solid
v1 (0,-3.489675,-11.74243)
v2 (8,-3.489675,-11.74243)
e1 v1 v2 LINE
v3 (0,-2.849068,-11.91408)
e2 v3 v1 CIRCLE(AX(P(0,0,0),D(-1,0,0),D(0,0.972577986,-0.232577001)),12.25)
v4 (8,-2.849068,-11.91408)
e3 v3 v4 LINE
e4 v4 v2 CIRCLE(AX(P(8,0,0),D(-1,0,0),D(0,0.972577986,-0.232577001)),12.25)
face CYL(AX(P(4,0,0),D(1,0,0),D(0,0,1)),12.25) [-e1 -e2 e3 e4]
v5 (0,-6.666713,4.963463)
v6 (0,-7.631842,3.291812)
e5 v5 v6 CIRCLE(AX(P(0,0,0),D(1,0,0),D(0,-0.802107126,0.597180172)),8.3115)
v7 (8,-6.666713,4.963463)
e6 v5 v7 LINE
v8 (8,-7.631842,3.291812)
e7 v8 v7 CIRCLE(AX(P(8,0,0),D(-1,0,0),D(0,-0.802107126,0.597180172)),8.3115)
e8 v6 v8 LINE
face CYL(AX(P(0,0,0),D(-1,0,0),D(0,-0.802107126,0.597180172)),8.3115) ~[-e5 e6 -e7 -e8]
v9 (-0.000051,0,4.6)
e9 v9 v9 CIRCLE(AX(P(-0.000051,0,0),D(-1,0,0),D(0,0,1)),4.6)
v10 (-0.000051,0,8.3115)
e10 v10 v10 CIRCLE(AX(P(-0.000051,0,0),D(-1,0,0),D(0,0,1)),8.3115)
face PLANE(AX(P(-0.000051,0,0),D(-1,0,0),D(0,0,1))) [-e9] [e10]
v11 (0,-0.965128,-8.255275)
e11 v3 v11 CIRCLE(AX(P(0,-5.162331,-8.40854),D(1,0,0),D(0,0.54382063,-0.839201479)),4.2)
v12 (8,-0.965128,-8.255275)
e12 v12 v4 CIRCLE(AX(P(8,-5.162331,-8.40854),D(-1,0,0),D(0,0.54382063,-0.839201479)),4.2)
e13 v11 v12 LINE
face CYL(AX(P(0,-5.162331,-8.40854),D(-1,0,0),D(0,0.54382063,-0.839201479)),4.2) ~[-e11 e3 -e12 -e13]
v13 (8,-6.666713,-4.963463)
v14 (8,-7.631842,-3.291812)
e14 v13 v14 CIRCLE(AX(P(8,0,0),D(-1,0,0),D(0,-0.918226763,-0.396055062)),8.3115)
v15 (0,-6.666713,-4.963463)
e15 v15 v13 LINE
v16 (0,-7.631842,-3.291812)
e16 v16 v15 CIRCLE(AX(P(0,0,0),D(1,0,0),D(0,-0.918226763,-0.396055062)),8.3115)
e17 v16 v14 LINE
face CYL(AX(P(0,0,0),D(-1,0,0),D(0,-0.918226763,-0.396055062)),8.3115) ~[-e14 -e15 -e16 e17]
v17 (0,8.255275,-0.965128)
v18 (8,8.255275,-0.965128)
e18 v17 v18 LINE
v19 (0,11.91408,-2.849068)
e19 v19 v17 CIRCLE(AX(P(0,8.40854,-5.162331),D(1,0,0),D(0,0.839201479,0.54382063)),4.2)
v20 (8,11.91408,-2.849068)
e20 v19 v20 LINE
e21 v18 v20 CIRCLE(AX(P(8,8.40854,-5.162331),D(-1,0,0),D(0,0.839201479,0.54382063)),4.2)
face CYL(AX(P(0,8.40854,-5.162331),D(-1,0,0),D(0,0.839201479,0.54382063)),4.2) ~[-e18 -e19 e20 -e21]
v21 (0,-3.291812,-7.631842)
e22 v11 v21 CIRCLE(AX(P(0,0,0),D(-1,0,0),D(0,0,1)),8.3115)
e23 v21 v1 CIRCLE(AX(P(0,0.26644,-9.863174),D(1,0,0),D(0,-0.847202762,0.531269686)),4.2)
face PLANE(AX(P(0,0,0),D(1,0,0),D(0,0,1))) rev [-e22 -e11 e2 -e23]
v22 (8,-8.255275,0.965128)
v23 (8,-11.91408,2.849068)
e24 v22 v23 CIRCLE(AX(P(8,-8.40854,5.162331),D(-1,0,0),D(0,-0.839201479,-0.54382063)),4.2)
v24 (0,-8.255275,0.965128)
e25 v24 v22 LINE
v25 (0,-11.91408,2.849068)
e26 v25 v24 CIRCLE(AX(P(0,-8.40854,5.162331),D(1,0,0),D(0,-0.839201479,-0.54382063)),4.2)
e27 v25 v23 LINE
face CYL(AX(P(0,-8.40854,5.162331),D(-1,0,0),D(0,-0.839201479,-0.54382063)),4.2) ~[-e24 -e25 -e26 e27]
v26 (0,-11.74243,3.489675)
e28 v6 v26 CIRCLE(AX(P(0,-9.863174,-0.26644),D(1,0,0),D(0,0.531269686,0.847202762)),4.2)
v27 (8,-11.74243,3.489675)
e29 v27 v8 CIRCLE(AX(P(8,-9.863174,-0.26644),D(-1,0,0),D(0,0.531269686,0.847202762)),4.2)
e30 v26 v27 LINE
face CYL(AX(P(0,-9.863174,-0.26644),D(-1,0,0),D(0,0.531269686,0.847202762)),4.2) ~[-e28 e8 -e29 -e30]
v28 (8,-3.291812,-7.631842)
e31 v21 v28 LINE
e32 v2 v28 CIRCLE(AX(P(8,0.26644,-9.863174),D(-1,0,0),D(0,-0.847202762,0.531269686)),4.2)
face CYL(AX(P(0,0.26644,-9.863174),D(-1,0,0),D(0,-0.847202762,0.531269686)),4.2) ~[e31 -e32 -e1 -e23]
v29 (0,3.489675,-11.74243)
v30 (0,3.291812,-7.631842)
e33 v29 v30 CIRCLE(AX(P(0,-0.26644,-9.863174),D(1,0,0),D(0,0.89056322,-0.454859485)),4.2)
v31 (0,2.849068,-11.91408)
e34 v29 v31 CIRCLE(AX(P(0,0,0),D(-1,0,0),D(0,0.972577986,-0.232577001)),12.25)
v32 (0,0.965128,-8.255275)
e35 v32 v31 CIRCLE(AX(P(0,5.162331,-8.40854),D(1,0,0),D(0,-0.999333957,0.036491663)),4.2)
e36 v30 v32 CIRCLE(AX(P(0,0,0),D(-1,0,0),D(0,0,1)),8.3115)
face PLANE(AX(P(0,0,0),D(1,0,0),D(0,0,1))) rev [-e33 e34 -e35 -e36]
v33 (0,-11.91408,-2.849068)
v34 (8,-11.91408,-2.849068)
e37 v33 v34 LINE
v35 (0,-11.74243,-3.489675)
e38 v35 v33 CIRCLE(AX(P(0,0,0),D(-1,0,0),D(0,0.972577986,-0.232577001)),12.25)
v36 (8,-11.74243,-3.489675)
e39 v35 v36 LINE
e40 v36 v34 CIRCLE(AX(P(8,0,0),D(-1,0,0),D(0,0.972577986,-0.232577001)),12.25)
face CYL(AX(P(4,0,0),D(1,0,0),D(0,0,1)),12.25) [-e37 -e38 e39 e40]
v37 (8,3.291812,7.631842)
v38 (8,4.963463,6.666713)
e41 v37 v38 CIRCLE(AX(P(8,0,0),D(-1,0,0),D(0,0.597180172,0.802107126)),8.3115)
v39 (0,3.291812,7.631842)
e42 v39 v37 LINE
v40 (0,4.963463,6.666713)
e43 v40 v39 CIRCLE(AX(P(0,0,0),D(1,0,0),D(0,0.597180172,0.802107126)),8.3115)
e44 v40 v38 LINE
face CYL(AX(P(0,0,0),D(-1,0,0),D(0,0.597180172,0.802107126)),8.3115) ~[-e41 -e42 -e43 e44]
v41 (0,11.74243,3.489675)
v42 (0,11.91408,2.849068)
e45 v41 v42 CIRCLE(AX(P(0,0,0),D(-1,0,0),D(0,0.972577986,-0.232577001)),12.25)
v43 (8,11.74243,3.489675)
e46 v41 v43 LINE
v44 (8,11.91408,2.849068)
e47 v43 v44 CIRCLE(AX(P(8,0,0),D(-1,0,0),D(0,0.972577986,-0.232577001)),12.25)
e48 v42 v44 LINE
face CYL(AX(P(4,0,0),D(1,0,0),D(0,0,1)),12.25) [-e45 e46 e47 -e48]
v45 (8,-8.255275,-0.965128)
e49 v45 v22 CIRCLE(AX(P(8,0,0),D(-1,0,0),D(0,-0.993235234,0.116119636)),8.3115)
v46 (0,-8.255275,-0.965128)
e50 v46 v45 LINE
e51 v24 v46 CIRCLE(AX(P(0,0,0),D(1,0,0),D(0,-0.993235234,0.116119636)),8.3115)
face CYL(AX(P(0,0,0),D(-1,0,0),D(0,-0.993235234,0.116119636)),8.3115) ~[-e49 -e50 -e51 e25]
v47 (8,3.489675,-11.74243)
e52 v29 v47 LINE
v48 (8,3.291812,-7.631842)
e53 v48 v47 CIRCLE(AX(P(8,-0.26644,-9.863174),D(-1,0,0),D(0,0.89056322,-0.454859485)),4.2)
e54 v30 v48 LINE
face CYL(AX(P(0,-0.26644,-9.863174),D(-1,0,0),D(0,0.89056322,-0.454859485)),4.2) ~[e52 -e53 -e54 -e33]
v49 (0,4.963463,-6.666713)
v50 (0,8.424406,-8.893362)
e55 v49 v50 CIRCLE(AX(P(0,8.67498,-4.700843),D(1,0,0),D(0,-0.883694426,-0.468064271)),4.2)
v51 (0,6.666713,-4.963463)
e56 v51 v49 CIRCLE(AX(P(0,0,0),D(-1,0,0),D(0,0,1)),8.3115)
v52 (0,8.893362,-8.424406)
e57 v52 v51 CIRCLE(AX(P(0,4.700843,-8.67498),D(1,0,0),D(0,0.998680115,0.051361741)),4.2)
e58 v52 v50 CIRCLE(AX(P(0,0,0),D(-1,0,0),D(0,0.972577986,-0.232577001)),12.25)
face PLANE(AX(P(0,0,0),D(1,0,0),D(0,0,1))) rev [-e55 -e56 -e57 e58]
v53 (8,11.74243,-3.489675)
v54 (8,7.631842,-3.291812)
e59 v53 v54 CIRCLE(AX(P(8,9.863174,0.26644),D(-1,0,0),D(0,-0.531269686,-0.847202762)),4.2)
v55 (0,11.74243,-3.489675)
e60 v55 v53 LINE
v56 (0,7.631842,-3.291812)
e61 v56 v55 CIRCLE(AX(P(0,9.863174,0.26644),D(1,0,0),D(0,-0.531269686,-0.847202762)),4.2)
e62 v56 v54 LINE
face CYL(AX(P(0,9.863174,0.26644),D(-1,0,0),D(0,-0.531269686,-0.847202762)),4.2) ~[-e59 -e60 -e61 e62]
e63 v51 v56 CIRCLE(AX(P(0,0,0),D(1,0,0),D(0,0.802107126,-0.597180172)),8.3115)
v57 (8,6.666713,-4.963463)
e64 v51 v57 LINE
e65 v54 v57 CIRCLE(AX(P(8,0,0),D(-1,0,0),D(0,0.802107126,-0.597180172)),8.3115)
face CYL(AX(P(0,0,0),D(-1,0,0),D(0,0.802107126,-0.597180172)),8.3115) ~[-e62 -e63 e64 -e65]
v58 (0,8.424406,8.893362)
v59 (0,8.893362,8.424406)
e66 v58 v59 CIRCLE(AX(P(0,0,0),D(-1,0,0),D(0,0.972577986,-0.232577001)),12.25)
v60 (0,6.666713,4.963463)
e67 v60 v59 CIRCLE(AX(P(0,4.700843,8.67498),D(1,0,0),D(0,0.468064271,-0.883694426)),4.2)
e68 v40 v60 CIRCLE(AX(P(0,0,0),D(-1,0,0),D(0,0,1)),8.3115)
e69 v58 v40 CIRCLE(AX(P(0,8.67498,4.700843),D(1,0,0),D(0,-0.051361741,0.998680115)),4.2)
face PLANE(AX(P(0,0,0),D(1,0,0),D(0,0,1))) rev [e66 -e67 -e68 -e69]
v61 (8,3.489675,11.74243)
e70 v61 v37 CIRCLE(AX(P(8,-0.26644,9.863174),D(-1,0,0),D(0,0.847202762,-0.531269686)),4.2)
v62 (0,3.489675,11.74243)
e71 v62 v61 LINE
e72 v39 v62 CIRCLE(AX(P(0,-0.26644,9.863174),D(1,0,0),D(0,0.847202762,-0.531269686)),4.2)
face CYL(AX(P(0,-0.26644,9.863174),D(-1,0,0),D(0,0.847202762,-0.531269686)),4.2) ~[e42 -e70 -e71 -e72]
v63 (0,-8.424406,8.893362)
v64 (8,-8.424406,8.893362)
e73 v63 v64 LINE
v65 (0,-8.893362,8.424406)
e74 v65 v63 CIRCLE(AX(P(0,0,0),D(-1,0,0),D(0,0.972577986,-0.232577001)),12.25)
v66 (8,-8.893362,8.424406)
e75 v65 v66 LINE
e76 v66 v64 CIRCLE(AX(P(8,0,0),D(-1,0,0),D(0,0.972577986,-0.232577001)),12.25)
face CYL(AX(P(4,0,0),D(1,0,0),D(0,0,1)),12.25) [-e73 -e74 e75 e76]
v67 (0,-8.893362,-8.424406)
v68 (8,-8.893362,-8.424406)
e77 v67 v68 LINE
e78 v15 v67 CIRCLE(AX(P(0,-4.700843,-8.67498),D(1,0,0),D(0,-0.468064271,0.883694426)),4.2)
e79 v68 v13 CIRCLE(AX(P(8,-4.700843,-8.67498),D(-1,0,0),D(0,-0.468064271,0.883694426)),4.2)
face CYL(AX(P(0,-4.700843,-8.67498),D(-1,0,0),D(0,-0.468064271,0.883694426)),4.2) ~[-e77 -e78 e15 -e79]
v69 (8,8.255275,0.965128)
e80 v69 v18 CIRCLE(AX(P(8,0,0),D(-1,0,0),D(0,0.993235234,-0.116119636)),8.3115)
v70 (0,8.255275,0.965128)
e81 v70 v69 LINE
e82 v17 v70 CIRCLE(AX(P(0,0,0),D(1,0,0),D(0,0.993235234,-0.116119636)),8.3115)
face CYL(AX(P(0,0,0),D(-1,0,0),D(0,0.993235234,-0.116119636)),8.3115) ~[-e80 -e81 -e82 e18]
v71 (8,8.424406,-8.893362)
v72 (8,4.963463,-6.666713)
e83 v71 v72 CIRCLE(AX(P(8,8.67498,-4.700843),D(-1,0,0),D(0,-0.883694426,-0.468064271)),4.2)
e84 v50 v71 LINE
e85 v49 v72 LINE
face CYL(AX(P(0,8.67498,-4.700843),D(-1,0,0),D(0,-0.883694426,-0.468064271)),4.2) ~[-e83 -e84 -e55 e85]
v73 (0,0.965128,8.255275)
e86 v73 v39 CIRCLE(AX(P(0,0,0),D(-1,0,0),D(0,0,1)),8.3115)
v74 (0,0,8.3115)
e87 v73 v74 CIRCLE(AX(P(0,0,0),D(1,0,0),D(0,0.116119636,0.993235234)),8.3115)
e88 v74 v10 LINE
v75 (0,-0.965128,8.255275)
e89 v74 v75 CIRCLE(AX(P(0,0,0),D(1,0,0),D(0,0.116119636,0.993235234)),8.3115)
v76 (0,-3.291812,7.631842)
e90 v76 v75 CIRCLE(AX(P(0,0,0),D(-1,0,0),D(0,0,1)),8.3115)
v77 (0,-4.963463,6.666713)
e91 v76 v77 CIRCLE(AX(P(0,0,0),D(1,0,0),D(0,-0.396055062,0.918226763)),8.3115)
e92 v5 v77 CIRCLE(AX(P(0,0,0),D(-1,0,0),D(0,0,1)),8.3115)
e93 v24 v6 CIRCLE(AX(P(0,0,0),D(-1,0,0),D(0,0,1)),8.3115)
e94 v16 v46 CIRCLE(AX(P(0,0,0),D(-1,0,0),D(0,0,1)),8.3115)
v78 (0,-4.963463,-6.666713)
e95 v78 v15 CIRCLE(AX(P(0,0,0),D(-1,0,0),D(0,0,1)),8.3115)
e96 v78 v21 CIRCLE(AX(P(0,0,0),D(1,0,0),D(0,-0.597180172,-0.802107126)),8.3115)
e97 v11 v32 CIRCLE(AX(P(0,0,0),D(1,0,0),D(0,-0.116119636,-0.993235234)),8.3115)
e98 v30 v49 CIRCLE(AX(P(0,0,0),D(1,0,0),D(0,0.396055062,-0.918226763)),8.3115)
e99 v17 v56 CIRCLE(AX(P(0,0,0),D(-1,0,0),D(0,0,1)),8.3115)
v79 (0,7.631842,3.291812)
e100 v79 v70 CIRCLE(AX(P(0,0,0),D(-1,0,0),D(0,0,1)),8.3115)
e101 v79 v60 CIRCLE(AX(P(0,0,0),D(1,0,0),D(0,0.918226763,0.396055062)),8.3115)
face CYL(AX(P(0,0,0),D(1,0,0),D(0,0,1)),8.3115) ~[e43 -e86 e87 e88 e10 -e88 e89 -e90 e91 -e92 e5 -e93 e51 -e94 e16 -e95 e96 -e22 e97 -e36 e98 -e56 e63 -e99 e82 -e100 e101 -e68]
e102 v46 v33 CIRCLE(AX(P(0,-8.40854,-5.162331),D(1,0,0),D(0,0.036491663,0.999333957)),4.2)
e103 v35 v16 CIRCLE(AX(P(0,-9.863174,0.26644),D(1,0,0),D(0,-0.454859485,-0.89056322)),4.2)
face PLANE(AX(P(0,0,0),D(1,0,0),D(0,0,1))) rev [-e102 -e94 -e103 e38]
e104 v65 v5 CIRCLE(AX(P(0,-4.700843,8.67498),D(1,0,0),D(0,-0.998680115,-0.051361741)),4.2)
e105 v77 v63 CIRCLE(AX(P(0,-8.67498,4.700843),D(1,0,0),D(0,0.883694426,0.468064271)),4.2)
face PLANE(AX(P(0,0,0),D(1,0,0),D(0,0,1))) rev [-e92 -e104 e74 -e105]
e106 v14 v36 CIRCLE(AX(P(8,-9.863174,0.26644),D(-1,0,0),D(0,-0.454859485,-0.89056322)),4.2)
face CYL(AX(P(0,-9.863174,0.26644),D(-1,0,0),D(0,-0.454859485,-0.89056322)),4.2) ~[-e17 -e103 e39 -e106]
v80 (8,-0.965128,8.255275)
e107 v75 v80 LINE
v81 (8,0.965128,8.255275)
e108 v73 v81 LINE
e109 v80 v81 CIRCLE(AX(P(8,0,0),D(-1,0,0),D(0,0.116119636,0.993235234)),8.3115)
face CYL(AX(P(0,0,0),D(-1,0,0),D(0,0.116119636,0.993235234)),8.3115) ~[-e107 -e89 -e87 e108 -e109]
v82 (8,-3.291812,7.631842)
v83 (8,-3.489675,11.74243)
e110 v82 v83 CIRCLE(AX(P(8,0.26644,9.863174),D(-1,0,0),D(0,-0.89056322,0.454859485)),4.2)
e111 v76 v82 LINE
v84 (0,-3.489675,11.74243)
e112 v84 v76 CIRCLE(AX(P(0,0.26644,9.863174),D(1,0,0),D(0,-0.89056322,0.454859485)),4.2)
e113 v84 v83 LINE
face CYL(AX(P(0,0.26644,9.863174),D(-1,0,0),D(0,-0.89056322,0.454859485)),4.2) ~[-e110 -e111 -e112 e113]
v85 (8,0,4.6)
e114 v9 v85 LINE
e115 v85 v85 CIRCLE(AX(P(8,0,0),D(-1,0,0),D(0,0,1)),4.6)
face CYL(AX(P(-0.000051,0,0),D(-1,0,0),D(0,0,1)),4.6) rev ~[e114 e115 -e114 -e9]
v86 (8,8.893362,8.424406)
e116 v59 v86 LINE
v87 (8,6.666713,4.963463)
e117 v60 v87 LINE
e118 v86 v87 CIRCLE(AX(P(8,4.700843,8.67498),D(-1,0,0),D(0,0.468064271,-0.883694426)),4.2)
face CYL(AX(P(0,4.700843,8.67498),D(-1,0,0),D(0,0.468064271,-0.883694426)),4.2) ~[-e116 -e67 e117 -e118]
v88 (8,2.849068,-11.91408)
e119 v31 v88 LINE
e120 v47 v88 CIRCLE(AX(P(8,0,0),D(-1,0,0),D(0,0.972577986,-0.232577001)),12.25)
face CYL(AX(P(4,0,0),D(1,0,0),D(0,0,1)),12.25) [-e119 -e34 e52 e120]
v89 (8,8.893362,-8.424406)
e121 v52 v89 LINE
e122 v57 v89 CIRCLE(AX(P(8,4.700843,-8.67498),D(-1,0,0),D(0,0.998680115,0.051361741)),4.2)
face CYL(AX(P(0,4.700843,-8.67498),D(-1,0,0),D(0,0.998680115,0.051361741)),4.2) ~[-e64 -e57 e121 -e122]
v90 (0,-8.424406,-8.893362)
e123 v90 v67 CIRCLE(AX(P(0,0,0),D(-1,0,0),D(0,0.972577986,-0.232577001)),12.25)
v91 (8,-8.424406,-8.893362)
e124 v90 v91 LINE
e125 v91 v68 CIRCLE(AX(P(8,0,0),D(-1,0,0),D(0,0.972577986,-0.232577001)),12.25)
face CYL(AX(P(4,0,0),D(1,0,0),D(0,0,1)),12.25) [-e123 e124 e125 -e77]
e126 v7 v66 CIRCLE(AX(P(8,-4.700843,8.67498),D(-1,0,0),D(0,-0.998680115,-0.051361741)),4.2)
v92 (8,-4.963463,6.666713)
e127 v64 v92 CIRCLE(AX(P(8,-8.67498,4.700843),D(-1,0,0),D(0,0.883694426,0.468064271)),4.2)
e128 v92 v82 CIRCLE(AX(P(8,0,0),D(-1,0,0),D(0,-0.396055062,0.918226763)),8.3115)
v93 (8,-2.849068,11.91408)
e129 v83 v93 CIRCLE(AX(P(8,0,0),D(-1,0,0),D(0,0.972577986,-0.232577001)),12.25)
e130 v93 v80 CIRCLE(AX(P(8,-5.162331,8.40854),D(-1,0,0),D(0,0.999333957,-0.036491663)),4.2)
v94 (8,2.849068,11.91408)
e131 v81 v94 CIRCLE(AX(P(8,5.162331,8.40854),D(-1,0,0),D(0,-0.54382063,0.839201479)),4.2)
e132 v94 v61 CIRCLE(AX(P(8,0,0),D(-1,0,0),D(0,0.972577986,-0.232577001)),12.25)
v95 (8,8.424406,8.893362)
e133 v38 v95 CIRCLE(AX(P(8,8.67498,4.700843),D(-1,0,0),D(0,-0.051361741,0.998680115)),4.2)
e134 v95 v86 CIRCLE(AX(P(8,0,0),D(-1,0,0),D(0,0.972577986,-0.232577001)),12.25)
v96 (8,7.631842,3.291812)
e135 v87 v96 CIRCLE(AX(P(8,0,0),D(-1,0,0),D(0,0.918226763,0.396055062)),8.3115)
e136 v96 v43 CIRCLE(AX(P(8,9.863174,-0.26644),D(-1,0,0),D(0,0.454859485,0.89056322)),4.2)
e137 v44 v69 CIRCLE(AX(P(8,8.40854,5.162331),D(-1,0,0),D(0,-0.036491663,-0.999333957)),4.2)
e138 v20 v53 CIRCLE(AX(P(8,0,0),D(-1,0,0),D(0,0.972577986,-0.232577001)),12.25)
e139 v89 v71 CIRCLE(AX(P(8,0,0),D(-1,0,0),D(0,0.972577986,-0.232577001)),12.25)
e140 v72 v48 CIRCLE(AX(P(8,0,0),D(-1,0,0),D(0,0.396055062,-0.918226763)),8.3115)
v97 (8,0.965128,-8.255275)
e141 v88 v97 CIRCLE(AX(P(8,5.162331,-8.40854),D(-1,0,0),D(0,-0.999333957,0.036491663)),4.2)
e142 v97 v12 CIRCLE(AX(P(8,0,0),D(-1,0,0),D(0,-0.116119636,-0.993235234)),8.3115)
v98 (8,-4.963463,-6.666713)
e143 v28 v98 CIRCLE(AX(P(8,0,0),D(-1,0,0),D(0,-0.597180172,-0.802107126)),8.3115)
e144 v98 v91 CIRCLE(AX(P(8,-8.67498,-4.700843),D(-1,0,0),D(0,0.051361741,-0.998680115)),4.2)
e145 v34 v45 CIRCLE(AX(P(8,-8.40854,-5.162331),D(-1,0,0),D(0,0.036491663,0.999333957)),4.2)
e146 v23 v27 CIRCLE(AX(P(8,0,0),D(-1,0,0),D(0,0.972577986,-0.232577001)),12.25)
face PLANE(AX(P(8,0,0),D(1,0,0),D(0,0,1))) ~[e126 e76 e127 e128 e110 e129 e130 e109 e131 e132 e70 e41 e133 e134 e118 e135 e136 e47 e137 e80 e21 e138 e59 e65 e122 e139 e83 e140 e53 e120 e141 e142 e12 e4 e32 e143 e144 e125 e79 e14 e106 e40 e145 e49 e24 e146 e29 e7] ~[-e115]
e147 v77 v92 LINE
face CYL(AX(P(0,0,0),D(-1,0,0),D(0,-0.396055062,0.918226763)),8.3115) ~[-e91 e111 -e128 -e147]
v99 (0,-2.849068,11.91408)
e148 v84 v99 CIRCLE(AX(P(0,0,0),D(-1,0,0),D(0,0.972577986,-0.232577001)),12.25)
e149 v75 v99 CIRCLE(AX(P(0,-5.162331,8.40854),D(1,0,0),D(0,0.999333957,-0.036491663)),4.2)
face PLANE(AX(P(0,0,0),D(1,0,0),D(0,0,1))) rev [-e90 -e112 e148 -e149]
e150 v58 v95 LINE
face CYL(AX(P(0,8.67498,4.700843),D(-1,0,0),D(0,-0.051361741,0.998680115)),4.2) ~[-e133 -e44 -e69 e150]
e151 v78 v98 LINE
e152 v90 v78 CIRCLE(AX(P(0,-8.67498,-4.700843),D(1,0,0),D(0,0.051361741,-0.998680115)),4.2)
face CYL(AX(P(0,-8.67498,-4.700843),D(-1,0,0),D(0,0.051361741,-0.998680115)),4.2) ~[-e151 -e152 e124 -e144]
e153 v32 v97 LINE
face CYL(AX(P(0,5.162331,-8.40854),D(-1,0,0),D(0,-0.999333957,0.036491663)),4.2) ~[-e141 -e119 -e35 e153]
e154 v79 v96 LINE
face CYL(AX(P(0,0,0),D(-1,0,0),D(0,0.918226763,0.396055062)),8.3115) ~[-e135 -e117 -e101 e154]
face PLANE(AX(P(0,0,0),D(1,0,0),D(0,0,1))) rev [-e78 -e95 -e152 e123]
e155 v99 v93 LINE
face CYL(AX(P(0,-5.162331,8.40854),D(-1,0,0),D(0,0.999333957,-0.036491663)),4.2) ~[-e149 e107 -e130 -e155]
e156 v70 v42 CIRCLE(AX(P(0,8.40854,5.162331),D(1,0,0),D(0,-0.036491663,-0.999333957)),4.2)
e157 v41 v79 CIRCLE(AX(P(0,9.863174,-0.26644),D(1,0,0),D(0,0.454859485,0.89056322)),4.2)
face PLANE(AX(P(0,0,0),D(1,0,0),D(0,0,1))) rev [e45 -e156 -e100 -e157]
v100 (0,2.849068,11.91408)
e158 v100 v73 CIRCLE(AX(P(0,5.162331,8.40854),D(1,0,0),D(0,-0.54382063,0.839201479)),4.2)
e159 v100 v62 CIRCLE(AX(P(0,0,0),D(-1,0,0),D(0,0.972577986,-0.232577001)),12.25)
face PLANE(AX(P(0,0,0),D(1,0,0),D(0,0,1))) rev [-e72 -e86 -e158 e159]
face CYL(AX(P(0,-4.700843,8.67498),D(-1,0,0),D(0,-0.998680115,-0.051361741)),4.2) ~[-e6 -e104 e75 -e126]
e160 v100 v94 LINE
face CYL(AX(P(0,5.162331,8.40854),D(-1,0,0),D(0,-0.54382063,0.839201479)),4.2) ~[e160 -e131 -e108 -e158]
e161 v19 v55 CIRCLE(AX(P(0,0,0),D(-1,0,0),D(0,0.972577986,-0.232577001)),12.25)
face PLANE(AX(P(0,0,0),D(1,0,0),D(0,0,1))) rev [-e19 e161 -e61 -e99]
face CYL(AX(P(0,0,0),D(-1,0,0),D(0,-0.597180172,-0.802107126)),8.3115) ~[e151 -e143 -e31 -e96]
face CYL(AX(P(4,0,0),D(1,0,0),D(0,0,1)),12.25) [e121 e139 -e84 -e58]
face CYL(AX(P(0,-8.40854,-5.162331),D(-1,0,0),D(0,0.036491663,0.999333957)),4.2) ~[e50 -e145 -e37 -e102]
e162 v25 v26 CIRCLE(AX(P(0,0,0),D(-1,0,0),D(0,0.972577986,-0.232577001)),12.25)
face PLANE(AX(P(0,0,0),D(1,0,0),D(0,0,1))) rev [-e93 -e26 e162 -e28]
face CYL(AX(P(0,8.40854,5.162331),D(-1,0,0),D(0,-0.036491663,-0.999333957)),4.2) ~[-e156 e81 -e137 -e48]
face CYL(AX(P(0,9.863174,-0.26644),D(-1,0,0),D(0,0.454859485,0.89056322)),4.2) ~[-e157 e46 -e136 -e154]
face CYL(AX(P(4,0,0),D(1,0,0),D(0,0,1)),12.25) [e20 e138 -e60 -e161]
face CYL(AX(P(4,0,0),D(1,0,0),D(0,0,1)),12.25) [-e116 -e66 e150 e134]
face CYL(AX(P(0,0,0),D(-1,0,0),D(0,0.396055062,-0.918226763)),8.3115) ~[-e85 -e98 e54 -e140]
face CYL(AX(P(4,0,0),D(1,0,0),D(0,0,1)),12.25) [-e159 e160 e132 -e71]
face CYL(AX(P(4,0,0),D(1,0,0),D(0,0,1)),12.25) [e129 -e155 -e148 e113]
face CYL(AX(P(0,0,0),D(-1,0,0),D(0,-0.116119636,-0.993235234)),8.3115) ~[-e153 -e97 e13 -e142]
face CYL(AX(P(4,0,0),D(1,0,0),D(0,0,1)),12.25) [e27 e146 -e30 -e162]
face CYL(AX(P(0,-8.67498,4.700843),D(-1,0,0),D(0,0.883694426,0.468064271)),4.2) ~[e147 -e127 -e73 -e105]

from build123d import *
from build123d.topology import SkipClean

# Parameters (mm, degrees)
BASPROSKE_W             = 8
BASPROSKE_H             = 12.25
TOOTHCUT_DEPTH          = 20.082059637
TEETHCUTS_COUNT         = 12
TEETHCUTS_ANGLE         = 330
HUBNEAONESKE_R          = 8.3115
HUBNEARONE_DEPTH        = 8.0000508
BORSKE_R                = 4.5
BORE_DEPTH              = 16.0000508
ESQUISSE1_R             = 8.3115
ENL_V_MAT_EXTRU_1_DEPTH = 8
ESQUISSE2_R             = 4.5
ESQUISSE2_R_2           = 4.275
BOSS_EXTRU_1_DEPTH      = 8
ESQUISSE3_R             = 4.6
ENL_V_MAT_EXTRU_2_DEPTH = 10


with BuildPart() as part:
    # BasProSke → Base-Revolve (revolve)
    with BuildSketch(Plane(origin=(0, 0, 0), x_dir=(1, 0, 0), z_dir=(0, 1, 0)), mode=Mode.PRIVATE) as base_revolve_sk:
        with Locations((4, 6.125)):
            Rectangle(BASPROSKE_W, BASPROSKE_H)
    revolve(base_revolve_sk.sketch.rotate(Axis((-10, 0, 0), (1, 0, 0)), 180), axis=Axis((-10, 0, 0), (1, 0, 0)))

    # TooCutSke → ToothCut (cut, through all)
    with BuildSketch(Plane(origin=(0, 0, 0), x_dir=(0, 0, -1), z_dir=(1, 0, 0))):
        with BuildLine():
            ThreePointArc((0.965128363, 8.255274647), (0, 8.3115), (-0.965128363, 8.255274647))
            ThreePointArc((-0.965128363, 8.255274647), (-1.43628674, 10.346733197), (-2.878284339, 11.933185846))
            ThreePointArc((-2.878284339, 11.933185846), (0, 12.2754), (2.878284339, 11.933185846))
            ThreePointArc((2.878284339, 11.933185846), (1.43628674, 10.346733197), (0.965128363, 8.255274647))
        make_face()
    toothcut = extrude(amount=TOOTHCUT_DEPTH, mode=Mode.SUBTRACT)

    # TeethCuts: ToothCut ×12 about axis
    teethcuts_axis = Axis((-10, 0, 0), (1, 0, 0))
    for i in range(1, TEETHCUTS_COUNT):
        add(toothcut.rotate(teethcuts_axis, i * TEETHCUTS_ANGLE / (TEETHCUTS_COUNT - 1)), mode=Mode.SUBTRACT)

    # HubNeaOneSke → HubNearOne (add)
    with SkipClean():  # the faces are left unmerged after this step: merging them gives an invalid solid
        with BuildSketch(Plane.ZY):
            Circle(HUBNEAONESKE_R)
        extrude(amount=HUBNEARONE_DEPTH)

    # BorSke → Bore (cut, symmetric)
    with SkipClean():  # the faces are left unmerged after this step: merging them gives an invalid solid
        with BuildSketch(Plane(origin=(0, 0, 0), x_dir=(0, 0, -1), z_dir=(1, 0, 0))):
            with Locations(Location((0, 0, 0), (0, 0, 180))):
                Circle(BORSKE_R)
        extrude(amount=BORE_DEPTH, both=True, mode=Mode.SUBTRACT)

    # Esquisse1 → Enlèv. mat.-Extru.1 (cut)
    with SkipClean():  # the faces are left unmerged after this step: merging them gives an invalid solid
        with BuildSketch(Plane.ZY.offset(8.0000508)):
            Circle(ESQUISSE1_R)
        extrude(amount=-ENL_V_MAT_EXTRU_1_DEPTH, mode=Mode.SUBTRACT)

    # Esquisse2 → Boss.-Extru.1 (add)
    with SkipClean():  # the faces are left unmerged after this step: merging them gives an invalid solid
        with BuildSketch(Plane(origin=(8, 0, 0), x_dir=(0, 0, -1), z_dir=(1, 0, 0))):
            with Locations(Location((0, 0, 0), (0, 0, 180))):
                Circle(ESQUISSE2_R)
            Circle(ESQUISSE2_R_2, mode=Mode.SUBTRACT)
        extrude(amount=-BOSS_EXTRU_1_DEPTH)

    # Esquisse3 → Enlèv. mat.-Extru.2 (cut)
    with SkipClean():  # the faces are left unmerged after this step: merging them gives an invalid solid
        with BuildSketch(Plane.ZY.offset(5.08e-05)):
            Circle(ESQUISSE3_R)
        extrude(amount=-ENL_V_MAT_EXTRU_2_DEPTH, mode=Mode.SUBTRACT)


solid = part.part
